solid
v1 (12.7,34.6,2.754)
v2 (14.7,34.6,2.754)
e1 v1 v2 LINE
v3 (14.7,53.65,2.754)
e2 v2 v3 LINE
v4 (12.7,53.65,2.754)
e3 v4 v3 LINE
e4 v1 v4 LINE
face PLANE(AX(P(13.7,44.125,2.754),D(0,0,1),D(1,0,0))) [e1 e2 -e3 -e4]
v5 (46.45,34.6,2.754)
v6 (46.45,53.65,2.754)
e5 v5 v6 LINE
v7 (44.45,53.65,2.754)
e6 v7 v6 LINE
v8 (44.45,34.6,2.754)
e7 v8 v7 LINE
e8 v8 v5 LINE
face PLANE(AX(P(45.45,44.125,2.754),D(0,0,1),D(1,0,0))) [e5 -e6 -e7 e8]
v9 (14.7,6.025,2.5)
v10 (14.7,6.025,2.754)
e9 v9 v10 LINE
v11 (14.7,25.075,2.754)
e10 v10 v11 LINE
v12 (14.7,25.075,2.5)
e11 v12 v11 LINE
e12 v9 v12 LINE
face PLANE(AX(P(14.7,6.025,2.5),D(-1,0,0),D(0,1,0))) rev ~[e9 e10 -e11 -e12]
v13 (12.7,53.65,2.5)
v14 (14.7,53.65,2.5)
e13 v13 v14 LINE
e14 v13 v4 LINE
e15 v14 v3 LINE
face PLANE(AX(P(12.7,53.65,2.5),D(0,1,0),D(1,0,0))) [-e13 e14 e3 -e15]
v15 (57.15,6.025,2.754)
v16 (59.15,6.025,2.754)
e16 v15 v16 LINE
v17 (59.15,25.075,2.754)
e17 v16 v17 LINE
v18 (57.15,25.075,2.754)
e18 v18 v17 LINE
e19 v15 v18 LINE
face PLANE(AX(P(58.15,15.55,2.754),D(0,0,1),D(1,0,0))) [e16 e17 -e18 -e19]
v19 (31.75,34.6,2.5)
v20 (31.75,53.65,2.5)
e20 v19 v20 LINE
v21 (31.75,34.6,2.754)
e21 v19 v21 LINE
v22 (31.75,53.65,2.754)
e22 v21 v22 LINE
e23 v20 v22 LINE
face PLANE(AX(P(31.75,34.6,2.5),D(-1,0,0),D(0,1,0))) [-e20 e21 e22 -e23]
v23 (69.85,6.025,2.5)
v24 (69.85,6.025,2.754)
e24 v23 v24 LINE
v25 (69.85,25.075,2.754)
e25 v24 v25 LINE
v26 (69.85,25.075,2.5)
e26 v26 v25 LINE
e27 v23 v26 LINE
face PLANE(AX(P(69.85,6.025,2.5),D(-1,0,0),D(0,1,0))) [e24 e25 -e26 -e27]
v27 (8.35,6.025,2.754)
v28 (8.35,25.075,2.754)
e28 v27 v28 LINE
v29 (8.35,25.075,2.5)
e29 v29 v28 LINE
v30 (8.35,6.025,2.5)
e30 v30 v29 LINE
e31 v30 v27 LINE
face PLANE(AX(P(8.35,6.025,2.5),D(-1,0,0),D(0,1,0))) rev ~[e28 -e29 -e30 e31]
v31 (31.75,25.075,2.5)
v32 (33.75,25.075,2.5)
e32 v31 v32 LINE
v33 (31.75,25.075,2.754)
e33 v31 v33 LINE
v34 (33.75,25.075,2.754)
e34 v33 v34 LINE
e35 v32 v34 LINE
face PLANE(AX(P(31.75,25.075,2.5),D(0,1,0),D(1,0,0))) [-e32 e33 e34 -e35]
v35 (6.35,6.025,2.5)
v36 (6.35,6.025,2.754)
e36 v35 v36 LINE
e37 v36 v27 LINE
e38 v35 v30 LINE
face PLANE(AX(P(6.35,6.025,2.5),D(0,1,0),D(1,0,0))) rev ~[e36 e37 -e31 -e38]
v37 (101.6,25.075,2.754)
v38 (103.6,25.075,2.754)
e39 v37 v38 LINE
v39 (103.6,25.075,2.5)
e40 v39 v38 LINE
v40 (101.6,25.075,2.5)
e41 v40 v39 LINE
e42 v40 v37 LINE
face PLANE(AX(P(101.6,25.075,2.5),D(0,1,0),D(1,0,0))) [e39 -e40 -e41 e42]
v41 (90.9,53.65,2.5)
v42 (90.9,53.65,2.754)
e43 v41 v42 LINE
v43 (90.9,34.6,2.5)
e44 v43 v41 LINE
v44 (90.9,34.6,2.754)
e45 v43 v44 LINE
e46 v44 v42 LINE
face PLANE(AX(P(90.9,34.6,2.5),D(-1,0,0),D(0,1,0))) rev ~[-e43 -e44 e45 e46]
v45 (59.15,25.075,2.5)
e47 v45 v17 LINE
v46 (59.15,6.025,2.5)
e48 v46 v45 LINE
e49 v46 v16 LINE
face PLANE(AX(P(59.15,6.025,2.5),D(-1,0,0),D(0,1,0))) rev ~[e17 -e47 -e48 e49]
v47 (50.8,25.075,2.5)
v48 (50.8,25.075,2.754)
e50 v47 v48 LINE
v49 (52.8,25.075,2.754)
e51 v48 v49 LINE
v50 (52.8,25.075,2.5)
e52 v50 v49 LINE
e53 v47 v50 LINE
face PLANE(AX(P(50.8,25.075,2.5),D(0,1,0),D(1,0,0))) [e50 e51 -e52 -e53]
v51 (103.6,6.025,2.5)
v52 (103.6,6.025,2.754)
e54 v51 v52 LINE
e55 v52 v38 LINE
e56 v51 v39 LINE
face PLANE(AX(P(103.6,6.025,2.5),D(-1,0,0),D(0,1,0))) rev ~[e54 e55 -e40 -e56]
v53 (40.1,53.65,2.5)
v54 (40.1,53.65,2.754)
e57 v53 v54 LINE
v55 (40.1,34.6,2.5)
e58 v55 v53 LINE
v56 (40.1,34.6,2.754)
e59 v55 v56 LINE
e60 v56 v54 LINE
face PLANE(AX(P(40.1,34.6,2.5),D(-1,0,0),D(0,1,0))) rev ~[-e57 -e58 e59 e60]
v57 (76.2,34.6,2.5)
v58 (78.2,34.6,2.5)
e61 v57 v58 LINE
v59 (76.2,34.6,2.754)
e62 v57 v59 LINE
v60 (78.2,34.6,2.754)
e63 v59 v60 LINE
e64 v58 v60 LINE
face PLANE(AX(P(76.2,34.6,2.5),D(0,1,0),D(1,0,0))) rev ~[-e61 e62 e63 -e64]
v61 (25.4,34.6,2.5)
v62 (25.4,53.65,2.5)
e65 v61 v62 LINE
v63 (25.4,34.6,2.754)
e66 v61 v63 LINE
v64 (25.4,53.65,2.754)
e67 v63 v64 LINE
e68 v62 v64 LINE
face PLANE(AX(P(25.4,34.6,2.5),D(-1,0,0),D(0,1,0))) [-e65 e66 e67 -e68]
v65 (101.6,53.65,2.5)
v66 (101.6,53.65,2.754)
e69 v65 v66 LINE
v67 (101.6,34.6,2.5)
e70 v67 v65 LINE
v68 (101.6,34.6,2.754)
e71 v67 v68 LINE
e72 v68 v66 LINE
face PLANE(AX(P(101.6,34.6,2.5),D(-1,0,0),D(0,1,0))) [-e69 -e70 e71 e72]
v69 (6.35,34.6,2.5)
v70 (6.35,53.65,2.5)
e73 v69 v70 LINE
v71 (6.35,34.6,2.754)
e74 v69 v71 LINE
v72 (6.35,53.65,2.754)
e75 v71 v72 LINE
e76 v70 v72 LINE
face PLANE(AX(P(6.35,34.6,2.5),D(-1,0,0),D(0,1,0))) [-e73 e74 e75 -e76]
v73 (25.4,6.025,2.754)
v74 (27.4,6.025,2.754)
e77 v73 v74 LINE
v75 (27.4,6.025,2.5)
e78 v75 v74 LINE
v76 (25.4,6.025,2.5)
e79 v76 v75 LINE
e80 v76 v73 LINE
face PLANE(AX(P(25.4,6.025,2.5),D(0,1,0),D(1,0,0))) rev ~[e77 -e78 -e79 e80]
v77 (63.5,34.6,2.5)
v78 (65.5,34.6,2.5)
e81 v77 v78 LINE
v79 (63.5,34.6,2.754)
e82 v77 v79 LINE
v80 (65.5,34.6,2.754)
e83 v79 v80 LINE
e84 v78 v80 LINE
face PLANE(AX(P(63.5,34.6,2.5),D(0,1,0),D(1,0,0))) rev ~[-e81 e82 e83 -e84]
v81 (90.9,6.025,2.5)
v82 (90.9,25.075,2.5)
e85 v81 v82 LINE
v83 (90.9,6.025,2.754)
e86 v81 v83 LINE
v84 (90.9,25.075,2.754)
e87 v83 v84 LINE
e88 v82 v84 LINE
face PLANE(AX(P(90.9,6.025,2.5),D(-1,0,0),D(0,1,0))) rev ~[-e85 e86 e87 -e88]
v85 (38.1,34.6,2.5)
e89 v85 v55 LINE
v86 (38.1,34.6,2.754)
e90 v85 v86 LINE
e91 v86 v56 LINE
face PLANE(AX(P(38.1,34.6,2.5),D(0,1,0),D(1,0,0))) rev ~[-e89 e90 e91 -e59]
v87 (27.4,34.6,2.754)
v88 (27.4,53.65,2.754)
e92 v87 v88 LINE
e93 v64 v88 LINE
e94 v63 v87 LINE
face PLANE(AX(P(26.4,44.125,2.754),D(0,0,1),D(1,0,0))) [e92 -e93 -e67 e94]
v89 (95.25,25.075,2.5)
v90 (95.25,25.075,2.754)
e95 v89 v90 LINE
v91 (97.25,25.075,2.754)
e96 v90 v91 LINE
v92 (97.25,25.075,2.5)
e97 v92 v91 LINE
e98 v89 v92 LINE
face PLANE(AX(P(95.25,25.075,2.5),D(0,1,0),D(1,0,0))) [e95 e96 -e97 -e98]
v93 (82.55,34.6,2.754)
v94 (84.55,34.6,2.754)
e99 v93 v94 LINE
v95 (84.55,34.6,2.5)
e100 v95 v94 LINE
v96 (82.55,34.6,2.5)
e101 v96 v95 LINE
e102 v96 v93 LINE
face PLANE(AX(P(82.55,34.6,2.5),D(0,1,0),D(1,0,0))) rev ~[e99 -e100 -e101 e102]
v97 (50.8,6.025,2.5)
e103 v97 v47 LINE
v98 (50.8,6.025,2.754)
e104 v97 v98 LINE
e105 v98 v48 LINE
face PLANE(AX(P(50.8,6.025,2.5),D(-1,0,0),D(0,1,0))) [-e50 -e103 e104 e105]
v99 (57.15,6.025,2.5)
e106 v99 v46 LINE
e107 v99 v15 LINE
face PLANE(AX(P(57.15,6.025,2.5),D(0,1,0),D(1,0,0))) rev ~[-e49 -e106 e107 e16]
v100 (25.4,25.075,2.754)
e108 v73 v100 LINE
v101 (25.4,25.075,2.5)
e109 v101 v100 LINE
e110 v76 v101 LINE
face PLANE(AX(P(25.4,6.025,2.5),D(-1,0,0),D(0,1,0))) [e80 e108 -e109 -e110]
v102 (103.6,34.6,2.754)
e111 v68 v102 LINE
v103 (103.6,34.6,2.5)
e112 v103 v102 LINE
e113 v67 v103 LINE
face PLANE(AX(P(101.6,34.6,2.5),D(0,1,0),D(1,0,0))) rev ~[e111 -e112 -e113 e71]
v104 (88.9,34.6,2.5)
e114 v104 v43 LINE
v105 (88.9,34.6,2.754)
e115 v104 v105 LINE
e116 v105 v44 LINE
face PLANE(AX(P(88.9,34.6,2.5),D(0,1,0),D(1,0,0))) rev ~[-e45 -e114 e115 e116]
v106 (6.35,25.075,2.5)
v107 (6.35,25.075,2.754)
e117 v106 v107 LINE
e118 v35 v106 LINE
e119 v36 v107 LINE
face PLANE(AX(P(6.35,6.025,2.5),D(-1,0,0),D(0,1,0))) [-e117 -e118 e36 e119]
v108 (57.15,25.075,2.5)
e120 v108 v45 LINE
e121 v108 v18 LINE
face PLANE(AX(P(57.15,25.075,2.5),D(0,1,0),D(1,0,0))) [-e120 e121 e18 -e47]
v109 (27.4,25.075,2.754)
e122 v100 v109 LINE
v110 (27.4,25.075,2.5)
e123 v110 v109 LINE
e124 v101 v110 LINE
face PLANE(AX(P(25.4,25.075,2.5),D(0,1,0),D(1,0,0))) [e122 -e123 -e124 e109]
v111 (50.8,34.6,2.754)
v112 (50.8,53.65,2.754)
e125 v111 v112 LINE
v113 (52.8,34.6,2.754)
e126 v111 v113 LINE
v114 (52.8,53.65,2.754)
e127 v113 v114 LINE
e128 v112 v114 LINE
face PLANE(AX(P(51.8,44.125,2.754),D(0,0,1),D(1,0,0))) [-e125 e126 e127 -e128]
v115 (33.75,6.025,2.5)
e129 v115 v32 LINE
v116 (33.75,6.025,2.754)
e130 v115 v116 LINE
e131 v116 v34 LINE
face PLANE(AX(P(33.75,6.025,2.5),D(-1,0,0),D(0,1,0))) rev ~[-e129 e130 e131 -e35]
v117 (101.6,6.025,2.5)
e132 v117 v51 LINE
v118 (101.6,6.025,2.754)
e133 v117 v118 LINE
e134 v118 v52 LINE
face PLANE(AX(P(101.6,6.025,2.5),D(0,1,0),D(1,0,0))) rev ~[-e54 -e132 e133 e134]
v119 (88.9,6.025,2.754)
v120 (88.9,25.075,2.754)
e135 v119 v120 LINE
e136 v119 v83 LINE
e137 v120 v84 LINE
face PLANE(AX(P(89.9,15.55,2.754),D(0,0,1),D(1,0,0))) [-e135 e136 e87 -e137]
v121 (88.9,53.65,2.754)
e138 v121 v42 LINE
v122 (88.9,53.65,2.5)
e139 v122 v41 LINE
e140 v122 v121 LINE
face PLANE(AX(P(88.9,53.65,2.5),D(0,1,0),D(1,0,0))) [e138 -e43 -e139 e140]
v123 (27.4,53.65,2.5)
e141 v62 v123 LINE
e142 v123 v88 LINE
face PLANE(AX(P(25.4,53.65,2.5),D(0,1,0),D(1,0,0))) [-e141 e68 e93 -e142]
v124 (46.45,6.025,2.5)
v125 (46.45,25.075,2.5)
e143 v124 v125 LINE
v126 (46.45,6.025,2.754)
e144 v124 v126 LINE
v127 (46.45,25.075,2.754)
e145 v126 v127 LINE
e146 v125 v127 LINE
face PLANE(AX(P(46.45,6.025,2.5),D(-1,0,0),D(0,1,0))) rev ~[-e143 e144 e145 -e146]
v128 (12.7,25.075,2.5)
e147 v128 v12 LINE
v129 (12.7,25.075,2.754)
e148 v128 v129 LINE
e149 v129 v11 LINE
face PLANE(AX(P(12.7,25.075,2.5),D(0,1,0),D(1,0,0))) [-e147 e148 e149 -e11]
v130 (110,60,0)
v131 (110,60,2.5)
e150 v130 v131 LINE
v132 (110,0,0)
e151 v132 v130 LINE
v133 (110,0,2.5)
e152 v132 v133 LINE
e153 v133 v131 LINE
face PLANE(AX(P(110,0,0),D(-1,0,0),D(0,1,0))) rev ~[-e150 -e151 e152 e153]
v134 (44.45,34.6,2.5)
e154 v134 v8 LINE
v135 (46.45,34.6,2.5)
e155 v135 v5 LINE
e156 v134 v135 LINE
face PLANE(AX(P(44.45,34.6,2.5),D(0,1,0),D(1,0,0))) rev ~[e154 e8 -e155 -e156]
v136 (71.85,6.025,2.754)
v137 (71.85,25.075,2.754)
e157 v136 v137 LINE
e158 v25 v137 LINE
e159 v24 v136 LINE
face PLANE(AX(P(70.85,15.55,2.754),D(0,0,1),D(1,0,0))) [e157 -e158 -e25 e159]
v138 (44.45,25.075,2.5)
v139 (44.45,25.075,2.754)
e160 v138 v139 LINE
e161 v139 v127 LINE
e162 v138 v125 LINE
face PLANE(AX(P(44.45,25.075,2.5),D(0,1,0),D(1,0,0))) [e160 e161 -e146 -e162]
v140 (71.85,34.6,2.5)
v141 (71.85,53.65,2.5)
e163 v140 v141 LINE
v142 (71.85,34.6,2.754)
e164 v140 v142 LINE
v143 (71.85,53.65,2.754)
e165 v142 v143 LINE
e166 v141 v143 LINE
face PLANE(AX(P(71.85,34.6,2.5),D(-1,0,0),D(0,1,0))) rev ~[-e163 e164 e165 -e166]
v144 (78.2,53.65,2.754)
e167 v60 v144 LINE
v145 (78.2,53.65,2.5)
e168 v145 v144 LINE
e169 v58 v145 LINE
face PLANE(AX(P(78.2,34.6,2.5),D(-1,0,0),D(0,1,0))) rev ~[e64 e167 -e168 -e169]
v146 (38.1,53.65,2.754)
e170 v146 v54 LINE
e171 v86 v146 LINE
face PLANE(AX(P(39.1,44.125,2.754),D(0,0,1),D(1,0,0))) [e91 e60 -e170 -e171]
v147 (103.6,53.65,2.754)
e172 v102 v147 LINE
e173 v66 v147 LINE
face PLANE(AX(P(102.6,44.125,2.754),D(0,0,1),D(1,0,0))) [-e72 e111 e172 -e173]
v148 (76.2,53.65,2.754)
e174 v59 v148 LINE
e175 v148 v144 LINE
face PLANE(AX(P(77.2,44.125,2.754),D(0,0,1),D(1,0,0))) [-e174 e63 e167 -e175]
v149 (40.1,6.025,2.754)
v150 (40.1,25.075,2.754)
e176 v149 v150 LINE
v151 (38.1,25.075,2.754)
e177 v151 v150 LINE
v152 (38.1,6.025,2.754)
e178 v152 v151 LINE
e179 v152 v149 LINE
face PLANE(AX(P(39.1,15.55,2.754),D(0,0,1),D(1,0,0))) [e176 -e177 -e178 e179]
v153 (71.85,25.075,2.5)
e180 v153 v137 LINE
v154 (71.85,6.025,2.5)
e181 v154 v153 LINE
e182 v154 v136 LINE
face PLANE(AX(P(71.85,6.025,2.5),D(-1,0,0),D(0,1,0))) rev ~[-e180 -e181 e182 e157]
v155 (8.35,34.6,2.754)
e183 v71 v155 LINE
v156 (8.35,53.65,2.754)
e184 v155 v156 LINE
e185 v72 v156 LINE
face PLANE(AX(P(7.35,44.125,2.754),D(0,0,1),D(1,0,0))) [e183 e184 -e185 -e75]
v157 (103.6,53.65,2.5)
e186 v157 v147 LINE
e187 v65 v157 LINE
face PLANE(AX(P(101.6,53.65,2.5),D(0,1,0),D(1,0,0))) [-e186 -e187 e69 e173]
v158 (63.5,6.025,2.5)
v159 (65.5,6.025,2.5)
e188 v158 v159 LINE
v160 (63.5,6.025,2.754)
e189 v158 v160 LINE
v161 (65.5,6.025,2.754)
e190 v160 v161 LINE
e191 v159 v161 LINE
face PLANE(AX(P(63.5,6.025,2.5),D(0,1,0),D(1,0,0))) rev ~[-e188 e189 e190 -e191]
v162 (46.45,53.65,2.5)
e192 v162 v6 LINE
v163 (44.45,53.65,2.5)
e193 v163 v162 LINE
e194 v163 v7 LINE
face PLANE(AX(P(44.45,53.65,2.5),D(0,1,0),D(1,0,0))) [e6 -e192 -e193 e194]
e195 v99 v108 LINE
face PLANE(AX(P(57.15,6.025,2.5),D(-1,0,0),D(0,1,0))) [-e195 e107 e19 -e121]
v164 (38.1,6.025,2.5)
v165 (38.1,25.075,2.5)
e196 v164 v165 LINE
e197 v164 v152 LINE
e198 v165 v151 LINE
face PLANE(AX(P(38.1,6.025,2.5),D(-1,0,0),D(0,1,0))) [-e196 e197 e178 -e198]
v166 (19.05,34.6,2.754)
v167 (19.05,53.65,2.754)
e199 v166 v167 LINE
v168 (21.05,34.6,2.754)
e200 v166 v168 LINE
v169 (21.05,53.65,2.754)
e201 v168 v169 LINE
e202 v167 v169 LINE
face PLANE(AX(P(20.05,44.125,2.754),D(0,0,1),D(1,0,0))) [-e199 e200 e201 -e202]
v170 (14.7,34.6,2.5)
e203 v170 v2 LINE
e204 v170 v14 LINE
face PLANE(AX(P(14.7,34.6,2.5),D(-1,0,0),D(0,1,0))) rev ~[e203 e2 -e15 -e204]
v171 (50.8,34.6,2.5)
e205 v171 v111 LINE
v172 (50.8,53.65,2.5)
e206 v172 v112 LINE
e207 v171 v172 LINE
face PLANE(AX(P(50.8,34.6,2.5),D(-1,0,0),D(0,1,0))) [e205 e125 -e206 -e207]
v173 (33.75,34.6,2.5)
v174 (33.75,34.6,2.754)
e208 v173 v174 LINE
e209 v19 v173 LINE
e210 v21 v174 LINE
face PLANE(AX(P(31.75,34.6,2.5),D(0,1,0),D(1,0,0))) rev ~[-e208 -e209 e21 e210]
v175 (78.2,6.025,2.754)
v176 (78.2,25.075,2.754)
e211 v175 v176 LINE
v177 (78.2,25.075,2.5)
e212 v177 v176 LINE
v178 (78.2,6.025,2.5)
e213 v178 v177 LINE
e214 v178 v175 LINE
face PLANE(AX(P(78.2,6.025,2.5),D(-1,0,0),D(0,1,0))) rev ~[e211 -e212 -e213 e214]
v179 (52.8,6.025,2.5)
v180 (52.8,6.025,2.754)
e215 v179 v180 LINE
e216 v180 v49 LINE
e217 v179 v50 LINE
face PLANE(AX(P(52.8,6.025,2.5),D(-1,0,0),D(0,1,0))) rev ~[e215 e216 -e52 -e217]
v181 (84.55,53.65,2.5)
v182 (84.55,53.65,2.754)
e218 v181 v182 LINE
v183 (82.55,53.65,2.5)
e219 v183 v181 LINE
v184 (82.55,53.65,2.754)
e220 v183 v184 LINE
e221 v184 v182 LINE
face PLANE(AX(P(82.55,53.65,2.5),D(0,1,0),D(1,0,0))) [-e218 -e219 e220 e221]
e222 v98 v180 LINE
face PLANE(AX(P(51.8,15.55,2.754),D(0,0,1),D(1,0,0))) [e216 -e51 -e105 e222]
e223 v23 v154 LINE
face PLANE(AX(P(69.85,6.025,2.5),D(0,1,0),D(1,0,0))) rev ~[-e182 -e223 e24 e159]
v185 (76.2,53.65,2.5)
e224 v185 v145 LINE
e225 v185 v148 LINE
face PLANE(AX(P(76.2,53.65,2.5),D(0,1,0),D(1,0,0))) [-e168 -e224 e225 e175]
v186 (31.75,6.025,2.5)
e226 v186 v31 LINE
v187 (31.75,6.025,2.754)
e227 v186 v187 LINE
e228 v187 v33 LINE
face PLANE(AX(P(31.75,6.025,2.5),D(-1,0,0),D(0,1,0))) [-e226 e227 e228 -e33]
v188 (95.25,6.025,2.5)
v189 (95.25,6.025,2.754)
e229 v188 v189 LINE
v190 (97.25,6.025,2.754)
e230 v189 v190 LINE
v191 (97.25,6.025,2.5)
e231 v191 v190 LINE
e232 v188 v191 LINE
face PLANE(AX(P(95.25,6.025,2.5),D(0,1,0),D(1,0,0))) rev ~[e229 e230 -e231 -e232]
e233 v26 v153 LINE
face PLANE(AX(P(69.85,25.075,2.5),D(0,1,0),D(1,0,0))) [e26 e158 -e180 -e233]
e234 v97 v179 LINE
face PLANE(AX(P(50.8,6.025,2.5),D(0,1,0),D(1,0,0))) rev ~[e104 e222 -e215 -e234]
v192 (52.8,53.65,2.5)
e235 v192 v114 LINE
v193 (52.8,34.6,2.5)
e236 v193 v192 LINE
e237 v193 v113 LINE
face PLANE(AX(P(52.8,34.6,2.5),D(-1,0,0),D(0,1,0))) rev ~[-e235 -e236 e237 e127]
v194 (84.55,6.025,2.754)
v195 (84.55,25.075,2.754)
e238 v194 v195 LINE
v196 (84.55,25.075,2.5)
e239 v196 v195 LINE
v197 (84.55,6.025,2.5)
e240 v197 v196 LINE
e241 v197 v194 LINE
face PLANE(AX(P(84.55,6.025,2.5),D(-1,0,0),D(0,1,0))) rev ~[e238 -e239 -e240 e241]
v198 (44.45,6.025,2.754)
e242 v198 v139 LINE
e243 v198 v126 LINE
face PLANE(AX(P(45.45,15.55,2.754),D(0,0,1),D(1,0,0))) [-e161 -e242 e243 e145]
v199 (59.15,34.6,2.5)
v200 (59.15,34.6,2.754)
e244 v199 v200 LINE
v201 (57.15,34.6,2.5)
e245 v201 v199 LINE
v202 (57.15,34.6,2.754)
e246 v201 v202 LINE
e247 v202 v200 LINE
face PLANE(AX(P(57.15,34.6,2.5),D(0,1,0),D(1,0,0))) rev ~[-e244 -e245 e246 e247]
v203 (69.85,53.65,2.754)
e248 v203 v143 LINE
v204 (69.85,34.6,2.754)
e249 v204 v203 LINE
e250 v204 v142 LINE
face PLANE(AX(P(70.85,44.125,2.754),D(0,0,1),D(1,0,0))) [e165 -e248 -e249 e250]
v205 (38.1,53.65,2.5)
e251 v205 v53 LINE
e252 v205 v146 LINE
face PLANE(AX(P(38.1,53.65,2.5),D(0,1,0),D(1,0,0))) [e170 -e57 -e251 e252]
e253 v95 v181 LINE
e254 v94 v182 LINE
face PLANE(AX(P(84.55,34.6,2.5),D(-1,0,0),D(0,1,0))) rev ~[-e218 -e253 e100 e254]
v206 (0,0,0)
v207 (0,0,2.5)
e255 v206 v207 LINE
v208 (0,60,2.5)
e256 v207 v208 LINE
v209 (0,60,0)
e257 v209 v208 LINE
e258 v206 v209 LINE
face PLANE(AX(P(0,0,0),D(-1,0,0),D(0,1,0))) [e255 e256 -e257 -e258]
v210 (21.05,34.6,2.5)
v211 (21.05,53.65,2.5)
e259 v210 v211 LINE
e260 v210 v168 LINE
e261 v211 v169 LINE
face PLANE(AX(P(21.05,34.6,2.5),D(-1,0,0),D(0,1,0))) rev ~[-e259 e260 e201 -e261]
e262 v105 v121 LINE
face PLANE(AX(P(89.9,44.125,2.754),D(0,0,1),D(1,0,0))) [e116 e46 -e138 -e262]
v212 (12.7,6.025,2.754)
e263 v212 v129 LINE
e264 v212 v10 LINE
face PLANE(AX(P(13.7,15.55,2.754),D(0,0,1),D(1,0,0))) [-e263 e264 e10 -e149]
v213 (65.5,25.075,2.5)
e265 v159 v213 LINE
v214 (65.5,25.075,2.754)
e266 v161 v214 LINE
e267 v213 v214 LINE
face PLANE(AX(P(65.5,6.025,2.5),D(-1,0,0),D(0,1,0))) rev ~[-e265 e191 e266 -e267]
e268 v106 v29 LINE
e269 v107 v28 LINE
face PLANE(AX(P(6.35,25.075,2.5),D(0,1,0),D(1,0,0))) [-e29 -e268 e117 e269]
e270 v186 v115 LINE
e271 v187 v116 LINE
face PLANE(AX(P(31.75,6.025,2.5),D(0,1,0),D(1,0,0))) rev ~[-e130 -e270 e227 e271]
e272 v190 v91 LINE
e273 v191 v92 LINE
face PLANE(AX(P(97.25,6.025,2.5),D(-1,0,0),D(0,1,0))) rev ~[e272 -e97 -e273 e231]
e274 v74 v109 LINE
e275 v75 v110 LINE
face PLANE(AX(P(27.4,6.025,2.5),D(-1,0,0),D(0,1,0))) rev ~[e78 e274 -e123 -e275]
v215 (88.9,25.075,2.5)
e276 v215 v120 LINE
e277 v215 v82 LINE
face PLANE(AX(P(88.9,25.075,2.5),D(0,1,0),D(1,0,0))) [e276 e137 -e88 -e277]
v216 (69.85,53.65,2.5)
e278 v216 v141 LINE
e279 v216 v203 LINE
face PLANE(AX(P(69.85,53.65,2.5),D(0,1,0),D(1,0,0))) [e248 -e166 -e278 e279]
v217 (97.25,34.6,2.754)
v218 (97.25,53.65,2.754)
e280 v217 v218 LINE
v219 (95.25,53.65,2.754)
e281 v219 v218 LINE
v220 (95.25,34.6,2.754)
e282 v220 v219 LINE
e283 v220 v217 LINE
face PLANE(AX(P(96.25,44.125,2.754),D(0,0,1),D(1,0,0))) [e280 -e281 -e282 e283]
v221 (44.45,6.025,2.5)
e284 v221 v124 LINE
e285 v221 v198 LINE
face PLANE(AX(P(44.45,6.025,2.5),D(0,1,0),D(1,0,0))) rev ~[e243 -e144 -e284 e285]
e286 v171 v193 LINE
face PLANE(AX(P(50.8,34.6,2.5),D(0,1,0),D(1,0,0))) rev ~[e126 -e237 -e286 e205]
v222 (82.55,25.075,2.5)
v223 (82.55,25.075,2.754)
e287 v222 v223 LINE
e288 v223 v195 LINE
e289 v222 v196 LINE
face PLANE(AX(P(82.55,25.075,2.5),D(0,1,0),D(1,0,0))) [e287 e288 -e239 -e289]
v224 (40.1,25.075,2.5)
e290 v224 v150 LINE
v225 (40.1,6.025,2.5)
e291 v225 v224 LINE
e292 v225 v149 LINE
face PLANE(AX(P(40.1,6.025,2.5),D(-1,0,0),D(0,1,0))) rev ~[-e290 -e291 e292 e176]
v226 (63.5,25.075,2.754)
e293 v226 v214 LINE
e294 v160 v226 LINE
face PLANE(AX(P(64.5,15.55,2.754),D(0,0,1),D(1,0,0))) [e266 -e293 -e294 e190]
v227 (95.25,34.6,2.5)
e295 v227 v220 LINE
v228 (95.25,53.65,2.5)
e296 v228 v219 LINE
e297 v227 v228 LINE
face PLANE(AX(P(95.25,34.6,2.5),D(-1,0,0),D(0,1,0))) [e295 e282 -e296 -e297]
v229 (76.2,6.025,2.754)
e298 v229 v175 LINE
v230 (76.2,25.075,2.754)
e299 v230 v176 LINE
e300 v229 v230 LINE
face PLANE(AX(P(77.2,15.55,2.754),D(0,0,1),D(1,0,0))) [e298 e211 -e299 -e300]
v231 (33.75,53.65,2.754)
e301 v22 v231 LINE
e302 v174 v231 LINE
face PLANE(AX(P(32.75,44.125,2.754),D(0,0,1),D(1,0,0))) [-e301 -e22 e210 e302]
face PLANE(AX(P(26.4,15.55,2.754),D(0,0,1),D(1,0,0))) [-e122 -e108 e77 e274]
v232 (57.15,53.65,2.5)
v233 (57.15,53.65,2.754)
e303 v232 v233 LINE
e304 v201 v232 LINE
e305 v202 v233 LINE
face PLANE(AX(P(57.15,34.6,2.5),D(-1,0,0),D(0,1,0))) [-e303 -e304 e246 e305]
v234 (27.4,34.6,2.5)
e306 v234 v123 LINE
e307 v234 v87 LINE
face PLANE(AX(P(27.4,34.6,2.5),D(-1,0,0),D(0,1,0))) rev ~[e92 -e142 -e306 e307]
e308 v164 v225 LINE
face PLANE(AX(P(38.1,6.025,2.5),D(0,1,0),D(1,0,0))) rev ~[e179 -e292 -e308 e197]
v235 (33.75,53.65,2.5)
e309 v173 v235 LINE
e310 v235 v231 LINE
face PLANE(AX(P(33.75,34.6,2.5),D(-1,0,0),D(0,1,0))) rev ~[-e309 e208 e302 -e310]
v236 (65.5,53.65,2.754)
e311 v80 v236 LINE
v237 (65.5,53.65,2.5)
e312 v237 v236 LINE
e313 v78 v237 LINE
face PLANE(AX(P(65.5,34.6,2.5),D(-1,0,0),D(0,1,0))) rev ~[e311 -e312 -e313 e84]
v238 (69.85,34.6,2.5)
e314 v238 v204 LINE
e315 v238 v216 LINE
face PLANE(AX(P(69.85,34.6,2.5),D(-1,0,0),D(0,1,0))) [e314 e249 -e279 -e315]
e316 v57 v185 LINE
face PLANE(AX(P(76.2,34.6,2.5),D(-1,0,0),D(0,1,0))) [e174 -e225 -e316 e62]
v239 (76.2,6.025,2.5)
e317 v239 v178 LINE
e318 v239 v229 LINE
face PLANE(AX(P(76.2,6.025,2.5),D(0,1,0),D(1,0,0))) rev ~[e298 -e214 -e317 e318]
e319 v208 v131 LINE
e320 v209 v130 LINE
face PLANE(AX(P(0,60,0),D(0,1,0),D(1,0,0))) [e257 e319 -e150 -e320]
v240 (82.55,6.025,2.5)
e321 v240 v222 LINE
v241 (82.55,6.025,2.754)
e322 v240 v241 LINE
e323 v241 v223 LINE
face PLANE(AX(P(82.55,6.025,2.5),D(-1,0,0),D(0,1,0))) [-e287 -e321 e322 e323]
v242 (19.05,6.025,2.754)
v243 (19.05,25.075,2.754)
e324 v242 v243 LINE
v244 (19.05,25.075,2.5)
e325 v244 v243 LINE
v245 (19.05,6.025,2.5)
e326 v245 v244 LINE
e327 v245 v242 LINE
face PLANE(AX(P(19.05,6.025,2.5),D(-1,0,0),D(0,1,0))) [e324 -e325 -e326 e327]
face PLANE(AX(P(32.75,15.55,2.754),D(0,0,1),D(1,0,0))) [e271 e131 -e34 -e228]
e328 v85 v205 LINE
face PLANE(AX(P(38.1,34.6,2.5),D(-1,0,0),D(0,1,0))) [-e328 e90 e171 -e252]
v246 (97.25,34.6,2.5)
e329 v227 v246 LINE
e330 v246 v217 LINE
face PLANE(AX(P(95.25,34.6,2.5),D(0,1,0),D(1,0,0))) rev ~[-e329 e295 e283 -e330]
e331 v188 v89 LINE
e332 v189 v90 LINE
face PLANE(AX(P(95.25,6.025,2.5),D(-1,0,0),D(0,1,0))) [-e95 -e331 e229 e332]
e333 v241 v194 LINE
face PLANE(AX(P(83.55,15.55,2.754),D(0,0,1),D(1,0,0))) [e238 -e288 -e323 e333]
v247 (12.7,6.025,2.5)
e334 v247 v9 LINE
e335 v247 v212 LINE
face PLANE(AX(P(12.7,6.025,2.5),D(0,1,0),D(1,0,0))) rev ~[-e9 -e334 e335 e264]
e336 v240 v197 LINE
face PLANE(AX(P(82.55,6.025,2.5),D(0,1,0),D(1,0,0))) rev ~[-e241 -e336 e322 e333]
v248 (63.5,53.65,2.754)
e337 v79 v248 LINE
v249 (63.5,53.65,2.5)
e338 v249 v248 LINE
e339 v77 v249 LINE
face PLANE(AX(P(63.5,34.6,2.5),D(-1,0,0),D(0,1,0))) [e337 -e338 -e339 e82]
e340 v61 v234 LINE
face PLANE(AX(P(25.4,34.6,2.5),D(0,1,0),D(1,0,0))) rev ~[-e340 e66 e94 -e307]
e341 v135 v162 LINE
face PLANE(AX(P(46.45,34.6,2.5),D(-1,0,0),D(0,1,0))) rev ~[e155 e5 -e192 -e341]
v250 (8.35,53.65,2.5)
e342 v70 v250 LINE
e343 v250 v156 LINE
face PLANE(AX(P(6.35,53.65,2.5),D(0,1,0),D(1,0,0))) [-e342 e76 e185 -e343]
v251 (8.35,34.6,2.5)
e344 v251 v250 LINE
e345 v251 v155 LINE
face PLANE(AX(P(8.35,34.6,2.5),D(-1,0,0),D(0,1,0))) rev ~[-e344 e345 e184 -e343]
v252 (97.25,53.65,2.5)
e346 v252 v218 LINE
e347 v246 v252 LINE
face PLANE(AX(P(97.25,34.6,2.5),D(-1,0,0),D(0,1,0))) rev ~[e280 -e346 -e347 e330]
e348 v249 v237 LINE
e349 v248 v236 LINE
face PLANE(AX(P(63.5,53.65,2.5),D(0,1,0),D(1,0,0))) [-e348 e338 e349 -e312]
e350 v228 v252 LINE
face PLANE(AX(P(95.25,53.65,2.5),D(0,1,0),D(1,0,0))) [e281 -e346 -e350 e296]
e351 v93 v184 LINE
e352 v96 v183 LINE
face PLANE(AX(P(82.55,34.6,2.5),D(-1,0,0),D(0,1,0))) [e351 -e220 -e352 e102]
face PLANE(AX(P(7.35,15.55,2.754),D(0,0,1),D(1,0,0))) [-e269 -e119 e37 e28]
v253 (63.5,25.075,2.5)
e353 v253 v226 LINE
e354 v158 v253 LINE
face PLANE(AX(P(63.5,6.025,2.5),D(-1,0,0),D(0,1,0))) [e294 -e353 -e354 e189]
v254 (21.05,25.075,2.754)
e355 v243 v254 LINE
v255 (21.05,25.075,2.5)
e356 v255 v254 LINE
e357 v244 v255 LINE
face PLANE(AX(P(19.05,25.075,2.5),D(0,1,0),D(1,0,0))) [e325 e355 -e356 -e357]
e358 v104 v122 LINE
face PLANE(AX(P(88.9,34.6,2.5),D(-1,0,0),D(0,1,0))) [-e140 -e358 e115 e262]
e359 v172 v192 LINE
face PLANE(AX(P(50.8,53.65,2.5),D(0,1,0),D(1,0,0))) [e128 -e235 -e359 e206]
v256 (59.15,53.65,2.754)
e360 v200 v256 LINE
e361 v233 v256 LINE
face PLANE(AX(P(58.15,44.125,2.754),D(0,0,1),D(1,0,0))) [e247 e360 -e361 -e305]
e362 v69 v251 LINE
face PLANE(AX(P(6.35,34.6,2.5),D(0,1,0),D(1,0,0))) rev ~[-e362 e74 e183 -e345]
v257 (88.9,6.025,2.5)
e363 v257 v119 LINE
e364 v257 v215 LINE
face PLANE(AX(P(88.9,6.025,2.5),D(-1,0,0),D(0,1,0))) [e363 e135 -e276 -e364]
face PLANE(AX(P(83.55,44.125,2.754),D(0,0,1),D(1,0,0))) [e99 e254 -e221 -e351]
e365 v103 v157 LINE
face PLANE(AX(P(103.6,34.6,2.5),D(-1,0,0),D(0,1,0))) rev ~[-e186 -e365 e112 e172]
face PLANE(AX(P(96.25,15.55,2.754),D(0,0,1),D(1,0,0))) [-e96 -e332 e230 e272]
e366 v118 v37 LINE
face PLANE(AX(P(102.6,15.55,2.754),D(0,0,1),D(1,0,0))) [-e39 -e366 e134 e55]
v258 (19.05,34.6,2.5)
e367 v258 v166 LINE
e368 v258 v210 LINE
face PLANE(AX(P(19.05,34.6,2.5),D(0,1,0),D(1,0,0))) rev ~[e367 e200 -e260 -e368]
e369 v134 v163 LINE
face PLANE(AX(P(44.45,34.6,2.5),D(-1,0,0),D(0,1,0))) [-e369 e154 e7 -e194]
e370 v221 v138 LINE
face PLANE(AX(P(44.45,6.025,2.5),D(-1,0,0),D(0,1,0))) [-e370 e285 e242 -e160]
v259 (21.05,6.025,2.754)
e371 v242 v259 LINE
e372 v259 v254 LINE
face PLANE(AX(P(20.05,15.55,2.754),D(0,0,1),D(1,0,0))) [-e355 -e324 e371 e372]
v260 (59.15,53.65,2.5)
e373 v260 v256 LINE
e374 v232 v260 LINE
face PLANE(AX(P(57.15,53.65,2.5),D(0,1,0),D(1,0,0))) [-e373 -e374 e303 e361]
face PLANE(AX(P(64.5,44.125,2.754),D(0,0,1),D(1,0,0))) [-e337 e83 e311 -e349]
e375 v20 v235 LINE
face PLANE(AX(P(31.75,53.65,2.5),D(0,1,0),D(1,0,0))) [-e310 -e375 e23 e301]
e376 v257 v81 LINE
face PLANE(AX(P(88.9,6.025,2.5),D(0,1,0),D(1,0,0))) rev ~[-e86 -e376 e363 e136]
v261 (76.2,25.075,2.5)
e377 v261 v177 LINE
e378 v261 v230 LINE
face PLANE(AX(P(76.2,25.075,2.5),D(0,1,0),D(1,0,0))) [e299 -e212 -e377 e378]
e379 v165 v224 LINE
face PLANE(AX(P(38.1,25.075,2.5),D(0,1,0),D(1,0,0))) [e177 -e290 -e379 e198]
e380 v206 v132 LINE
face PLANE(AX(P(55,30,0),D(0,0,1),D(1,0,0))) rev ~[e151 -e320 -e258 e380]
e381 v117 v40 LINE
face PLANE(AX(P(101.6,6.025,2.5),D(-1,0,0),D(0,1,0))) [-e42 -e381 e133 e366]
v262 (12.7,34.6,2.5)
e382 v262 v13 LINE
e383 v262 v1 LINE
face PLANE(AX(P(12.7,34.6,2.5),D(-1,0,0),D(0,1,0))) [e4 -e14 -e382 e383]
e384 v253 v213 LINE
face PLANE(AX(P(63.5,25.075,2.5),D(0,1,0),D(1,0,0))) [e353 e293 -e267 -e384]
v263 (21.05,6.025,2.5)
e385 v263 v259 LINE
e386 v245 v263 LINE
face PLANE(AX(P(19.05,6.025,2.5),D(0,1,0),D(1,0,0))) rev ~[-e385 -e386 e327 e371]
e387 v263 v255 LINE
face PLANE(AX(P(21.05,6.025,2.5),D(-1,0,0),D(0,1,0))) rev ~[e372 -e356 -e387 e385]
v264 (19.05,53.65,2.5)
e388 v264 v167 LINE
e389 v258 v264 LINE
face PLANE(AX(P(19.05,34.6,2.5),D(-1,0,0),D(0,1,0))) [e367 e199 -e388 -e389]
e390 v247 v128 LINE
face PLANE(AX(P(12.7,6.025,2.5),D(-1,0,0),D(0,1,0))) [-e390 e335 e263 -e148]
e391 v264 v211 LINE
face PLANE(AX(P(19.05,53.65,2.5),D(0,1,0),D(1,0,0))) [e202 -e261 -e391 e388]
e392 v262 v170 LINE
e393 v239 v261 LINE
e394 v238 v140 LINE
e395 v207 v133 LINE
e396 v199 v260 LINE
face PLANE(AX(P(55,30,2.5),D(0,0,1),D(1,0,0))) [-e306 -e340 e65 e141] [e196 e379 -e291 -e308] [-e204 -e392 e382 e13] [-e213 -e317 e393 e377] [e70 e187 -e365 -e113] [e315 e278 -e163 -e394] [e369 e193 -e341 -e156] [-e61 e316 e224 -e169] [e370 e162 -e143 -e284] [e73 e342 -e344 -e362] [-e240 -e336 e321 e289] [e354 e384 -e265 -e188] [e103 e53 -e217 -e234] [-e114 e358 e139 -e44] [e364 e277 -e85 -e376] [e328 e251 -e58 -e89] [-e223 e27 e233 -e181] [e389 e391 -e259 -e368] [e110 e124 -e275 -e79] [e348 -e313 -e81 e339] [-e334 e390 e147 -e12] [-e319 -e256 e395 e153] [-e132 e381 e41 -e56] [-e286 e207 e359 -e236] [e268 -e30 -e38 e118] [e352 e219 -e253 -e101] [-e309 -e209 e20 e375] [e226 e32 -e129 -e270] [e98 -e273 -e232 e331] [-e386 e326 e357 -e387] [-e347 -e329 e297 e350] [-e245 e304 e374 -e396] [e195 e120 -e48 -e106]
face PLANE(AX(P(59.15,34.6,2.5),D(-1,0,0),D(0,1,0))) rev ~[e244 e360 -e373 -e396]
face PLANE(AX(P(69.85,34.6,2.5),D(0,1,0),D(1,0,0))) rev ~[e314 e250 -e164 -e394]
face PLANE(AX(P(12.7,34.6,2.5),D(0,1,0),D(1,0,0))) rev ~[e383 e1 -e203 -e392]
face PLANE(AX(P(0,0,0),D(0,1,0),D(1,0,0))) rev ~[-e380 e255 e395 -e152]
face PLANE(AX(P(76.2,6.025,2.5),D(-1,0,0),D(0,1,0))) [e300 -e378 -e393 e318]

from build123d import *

# Parameters (mm, degrees)
SKETCH1_W            = 110
SKETCH1_H            = 60
BOSS_EXTRUDE1_DEPTH  = 2.5
SKETCH3_W            = 2
SKETCH3_H            = 19.05
BOSS_EXTRUDE2_DEPTH  = 0.254
LPATTERN1_COUNT      = 16
LPATTERN1_PITCH      = 6.35
LPATTERN1_COUNT_DIR2 = 2
LPATTERN1_PITCH_DIR2 = 28.575


with BuildPart() as part:
    # Sketch1 → Boss-Extrude1 (new body)
    with BuildSketch(Plane.XY):
        with Locations((55, 30)):
            Rectangle(SKETCH1_W, SKETCH1_H)
    extrude(amount=BOSS_EXTRUDE1_DEPTH)

    # Sketch3 → Boss-Extrude2 (add)
    with BuildSketch(Plane.XY.offset(2.5)):
        with Locations((7.35, 44.125)):
            Rectangle(SKETCH3_W, SKETCH3_H)
    boss_extrude2 = extrude(amount=BOSS_EXTRUDE2_DEPTH)

    # LPattern1: Boss-Extrude2 16 × 2
    with Locations(*[(i * LPATTERN1_PITCH, -j * LPATTERN1_PITCH_DIR2, 0) for i in range(LPATTERN1_COUNT) for j in range(LPATTERN1_COUNT_DIR2) if (i, j) != (0, 0)]):
        add(boss_extrude2)


solid = part.part
